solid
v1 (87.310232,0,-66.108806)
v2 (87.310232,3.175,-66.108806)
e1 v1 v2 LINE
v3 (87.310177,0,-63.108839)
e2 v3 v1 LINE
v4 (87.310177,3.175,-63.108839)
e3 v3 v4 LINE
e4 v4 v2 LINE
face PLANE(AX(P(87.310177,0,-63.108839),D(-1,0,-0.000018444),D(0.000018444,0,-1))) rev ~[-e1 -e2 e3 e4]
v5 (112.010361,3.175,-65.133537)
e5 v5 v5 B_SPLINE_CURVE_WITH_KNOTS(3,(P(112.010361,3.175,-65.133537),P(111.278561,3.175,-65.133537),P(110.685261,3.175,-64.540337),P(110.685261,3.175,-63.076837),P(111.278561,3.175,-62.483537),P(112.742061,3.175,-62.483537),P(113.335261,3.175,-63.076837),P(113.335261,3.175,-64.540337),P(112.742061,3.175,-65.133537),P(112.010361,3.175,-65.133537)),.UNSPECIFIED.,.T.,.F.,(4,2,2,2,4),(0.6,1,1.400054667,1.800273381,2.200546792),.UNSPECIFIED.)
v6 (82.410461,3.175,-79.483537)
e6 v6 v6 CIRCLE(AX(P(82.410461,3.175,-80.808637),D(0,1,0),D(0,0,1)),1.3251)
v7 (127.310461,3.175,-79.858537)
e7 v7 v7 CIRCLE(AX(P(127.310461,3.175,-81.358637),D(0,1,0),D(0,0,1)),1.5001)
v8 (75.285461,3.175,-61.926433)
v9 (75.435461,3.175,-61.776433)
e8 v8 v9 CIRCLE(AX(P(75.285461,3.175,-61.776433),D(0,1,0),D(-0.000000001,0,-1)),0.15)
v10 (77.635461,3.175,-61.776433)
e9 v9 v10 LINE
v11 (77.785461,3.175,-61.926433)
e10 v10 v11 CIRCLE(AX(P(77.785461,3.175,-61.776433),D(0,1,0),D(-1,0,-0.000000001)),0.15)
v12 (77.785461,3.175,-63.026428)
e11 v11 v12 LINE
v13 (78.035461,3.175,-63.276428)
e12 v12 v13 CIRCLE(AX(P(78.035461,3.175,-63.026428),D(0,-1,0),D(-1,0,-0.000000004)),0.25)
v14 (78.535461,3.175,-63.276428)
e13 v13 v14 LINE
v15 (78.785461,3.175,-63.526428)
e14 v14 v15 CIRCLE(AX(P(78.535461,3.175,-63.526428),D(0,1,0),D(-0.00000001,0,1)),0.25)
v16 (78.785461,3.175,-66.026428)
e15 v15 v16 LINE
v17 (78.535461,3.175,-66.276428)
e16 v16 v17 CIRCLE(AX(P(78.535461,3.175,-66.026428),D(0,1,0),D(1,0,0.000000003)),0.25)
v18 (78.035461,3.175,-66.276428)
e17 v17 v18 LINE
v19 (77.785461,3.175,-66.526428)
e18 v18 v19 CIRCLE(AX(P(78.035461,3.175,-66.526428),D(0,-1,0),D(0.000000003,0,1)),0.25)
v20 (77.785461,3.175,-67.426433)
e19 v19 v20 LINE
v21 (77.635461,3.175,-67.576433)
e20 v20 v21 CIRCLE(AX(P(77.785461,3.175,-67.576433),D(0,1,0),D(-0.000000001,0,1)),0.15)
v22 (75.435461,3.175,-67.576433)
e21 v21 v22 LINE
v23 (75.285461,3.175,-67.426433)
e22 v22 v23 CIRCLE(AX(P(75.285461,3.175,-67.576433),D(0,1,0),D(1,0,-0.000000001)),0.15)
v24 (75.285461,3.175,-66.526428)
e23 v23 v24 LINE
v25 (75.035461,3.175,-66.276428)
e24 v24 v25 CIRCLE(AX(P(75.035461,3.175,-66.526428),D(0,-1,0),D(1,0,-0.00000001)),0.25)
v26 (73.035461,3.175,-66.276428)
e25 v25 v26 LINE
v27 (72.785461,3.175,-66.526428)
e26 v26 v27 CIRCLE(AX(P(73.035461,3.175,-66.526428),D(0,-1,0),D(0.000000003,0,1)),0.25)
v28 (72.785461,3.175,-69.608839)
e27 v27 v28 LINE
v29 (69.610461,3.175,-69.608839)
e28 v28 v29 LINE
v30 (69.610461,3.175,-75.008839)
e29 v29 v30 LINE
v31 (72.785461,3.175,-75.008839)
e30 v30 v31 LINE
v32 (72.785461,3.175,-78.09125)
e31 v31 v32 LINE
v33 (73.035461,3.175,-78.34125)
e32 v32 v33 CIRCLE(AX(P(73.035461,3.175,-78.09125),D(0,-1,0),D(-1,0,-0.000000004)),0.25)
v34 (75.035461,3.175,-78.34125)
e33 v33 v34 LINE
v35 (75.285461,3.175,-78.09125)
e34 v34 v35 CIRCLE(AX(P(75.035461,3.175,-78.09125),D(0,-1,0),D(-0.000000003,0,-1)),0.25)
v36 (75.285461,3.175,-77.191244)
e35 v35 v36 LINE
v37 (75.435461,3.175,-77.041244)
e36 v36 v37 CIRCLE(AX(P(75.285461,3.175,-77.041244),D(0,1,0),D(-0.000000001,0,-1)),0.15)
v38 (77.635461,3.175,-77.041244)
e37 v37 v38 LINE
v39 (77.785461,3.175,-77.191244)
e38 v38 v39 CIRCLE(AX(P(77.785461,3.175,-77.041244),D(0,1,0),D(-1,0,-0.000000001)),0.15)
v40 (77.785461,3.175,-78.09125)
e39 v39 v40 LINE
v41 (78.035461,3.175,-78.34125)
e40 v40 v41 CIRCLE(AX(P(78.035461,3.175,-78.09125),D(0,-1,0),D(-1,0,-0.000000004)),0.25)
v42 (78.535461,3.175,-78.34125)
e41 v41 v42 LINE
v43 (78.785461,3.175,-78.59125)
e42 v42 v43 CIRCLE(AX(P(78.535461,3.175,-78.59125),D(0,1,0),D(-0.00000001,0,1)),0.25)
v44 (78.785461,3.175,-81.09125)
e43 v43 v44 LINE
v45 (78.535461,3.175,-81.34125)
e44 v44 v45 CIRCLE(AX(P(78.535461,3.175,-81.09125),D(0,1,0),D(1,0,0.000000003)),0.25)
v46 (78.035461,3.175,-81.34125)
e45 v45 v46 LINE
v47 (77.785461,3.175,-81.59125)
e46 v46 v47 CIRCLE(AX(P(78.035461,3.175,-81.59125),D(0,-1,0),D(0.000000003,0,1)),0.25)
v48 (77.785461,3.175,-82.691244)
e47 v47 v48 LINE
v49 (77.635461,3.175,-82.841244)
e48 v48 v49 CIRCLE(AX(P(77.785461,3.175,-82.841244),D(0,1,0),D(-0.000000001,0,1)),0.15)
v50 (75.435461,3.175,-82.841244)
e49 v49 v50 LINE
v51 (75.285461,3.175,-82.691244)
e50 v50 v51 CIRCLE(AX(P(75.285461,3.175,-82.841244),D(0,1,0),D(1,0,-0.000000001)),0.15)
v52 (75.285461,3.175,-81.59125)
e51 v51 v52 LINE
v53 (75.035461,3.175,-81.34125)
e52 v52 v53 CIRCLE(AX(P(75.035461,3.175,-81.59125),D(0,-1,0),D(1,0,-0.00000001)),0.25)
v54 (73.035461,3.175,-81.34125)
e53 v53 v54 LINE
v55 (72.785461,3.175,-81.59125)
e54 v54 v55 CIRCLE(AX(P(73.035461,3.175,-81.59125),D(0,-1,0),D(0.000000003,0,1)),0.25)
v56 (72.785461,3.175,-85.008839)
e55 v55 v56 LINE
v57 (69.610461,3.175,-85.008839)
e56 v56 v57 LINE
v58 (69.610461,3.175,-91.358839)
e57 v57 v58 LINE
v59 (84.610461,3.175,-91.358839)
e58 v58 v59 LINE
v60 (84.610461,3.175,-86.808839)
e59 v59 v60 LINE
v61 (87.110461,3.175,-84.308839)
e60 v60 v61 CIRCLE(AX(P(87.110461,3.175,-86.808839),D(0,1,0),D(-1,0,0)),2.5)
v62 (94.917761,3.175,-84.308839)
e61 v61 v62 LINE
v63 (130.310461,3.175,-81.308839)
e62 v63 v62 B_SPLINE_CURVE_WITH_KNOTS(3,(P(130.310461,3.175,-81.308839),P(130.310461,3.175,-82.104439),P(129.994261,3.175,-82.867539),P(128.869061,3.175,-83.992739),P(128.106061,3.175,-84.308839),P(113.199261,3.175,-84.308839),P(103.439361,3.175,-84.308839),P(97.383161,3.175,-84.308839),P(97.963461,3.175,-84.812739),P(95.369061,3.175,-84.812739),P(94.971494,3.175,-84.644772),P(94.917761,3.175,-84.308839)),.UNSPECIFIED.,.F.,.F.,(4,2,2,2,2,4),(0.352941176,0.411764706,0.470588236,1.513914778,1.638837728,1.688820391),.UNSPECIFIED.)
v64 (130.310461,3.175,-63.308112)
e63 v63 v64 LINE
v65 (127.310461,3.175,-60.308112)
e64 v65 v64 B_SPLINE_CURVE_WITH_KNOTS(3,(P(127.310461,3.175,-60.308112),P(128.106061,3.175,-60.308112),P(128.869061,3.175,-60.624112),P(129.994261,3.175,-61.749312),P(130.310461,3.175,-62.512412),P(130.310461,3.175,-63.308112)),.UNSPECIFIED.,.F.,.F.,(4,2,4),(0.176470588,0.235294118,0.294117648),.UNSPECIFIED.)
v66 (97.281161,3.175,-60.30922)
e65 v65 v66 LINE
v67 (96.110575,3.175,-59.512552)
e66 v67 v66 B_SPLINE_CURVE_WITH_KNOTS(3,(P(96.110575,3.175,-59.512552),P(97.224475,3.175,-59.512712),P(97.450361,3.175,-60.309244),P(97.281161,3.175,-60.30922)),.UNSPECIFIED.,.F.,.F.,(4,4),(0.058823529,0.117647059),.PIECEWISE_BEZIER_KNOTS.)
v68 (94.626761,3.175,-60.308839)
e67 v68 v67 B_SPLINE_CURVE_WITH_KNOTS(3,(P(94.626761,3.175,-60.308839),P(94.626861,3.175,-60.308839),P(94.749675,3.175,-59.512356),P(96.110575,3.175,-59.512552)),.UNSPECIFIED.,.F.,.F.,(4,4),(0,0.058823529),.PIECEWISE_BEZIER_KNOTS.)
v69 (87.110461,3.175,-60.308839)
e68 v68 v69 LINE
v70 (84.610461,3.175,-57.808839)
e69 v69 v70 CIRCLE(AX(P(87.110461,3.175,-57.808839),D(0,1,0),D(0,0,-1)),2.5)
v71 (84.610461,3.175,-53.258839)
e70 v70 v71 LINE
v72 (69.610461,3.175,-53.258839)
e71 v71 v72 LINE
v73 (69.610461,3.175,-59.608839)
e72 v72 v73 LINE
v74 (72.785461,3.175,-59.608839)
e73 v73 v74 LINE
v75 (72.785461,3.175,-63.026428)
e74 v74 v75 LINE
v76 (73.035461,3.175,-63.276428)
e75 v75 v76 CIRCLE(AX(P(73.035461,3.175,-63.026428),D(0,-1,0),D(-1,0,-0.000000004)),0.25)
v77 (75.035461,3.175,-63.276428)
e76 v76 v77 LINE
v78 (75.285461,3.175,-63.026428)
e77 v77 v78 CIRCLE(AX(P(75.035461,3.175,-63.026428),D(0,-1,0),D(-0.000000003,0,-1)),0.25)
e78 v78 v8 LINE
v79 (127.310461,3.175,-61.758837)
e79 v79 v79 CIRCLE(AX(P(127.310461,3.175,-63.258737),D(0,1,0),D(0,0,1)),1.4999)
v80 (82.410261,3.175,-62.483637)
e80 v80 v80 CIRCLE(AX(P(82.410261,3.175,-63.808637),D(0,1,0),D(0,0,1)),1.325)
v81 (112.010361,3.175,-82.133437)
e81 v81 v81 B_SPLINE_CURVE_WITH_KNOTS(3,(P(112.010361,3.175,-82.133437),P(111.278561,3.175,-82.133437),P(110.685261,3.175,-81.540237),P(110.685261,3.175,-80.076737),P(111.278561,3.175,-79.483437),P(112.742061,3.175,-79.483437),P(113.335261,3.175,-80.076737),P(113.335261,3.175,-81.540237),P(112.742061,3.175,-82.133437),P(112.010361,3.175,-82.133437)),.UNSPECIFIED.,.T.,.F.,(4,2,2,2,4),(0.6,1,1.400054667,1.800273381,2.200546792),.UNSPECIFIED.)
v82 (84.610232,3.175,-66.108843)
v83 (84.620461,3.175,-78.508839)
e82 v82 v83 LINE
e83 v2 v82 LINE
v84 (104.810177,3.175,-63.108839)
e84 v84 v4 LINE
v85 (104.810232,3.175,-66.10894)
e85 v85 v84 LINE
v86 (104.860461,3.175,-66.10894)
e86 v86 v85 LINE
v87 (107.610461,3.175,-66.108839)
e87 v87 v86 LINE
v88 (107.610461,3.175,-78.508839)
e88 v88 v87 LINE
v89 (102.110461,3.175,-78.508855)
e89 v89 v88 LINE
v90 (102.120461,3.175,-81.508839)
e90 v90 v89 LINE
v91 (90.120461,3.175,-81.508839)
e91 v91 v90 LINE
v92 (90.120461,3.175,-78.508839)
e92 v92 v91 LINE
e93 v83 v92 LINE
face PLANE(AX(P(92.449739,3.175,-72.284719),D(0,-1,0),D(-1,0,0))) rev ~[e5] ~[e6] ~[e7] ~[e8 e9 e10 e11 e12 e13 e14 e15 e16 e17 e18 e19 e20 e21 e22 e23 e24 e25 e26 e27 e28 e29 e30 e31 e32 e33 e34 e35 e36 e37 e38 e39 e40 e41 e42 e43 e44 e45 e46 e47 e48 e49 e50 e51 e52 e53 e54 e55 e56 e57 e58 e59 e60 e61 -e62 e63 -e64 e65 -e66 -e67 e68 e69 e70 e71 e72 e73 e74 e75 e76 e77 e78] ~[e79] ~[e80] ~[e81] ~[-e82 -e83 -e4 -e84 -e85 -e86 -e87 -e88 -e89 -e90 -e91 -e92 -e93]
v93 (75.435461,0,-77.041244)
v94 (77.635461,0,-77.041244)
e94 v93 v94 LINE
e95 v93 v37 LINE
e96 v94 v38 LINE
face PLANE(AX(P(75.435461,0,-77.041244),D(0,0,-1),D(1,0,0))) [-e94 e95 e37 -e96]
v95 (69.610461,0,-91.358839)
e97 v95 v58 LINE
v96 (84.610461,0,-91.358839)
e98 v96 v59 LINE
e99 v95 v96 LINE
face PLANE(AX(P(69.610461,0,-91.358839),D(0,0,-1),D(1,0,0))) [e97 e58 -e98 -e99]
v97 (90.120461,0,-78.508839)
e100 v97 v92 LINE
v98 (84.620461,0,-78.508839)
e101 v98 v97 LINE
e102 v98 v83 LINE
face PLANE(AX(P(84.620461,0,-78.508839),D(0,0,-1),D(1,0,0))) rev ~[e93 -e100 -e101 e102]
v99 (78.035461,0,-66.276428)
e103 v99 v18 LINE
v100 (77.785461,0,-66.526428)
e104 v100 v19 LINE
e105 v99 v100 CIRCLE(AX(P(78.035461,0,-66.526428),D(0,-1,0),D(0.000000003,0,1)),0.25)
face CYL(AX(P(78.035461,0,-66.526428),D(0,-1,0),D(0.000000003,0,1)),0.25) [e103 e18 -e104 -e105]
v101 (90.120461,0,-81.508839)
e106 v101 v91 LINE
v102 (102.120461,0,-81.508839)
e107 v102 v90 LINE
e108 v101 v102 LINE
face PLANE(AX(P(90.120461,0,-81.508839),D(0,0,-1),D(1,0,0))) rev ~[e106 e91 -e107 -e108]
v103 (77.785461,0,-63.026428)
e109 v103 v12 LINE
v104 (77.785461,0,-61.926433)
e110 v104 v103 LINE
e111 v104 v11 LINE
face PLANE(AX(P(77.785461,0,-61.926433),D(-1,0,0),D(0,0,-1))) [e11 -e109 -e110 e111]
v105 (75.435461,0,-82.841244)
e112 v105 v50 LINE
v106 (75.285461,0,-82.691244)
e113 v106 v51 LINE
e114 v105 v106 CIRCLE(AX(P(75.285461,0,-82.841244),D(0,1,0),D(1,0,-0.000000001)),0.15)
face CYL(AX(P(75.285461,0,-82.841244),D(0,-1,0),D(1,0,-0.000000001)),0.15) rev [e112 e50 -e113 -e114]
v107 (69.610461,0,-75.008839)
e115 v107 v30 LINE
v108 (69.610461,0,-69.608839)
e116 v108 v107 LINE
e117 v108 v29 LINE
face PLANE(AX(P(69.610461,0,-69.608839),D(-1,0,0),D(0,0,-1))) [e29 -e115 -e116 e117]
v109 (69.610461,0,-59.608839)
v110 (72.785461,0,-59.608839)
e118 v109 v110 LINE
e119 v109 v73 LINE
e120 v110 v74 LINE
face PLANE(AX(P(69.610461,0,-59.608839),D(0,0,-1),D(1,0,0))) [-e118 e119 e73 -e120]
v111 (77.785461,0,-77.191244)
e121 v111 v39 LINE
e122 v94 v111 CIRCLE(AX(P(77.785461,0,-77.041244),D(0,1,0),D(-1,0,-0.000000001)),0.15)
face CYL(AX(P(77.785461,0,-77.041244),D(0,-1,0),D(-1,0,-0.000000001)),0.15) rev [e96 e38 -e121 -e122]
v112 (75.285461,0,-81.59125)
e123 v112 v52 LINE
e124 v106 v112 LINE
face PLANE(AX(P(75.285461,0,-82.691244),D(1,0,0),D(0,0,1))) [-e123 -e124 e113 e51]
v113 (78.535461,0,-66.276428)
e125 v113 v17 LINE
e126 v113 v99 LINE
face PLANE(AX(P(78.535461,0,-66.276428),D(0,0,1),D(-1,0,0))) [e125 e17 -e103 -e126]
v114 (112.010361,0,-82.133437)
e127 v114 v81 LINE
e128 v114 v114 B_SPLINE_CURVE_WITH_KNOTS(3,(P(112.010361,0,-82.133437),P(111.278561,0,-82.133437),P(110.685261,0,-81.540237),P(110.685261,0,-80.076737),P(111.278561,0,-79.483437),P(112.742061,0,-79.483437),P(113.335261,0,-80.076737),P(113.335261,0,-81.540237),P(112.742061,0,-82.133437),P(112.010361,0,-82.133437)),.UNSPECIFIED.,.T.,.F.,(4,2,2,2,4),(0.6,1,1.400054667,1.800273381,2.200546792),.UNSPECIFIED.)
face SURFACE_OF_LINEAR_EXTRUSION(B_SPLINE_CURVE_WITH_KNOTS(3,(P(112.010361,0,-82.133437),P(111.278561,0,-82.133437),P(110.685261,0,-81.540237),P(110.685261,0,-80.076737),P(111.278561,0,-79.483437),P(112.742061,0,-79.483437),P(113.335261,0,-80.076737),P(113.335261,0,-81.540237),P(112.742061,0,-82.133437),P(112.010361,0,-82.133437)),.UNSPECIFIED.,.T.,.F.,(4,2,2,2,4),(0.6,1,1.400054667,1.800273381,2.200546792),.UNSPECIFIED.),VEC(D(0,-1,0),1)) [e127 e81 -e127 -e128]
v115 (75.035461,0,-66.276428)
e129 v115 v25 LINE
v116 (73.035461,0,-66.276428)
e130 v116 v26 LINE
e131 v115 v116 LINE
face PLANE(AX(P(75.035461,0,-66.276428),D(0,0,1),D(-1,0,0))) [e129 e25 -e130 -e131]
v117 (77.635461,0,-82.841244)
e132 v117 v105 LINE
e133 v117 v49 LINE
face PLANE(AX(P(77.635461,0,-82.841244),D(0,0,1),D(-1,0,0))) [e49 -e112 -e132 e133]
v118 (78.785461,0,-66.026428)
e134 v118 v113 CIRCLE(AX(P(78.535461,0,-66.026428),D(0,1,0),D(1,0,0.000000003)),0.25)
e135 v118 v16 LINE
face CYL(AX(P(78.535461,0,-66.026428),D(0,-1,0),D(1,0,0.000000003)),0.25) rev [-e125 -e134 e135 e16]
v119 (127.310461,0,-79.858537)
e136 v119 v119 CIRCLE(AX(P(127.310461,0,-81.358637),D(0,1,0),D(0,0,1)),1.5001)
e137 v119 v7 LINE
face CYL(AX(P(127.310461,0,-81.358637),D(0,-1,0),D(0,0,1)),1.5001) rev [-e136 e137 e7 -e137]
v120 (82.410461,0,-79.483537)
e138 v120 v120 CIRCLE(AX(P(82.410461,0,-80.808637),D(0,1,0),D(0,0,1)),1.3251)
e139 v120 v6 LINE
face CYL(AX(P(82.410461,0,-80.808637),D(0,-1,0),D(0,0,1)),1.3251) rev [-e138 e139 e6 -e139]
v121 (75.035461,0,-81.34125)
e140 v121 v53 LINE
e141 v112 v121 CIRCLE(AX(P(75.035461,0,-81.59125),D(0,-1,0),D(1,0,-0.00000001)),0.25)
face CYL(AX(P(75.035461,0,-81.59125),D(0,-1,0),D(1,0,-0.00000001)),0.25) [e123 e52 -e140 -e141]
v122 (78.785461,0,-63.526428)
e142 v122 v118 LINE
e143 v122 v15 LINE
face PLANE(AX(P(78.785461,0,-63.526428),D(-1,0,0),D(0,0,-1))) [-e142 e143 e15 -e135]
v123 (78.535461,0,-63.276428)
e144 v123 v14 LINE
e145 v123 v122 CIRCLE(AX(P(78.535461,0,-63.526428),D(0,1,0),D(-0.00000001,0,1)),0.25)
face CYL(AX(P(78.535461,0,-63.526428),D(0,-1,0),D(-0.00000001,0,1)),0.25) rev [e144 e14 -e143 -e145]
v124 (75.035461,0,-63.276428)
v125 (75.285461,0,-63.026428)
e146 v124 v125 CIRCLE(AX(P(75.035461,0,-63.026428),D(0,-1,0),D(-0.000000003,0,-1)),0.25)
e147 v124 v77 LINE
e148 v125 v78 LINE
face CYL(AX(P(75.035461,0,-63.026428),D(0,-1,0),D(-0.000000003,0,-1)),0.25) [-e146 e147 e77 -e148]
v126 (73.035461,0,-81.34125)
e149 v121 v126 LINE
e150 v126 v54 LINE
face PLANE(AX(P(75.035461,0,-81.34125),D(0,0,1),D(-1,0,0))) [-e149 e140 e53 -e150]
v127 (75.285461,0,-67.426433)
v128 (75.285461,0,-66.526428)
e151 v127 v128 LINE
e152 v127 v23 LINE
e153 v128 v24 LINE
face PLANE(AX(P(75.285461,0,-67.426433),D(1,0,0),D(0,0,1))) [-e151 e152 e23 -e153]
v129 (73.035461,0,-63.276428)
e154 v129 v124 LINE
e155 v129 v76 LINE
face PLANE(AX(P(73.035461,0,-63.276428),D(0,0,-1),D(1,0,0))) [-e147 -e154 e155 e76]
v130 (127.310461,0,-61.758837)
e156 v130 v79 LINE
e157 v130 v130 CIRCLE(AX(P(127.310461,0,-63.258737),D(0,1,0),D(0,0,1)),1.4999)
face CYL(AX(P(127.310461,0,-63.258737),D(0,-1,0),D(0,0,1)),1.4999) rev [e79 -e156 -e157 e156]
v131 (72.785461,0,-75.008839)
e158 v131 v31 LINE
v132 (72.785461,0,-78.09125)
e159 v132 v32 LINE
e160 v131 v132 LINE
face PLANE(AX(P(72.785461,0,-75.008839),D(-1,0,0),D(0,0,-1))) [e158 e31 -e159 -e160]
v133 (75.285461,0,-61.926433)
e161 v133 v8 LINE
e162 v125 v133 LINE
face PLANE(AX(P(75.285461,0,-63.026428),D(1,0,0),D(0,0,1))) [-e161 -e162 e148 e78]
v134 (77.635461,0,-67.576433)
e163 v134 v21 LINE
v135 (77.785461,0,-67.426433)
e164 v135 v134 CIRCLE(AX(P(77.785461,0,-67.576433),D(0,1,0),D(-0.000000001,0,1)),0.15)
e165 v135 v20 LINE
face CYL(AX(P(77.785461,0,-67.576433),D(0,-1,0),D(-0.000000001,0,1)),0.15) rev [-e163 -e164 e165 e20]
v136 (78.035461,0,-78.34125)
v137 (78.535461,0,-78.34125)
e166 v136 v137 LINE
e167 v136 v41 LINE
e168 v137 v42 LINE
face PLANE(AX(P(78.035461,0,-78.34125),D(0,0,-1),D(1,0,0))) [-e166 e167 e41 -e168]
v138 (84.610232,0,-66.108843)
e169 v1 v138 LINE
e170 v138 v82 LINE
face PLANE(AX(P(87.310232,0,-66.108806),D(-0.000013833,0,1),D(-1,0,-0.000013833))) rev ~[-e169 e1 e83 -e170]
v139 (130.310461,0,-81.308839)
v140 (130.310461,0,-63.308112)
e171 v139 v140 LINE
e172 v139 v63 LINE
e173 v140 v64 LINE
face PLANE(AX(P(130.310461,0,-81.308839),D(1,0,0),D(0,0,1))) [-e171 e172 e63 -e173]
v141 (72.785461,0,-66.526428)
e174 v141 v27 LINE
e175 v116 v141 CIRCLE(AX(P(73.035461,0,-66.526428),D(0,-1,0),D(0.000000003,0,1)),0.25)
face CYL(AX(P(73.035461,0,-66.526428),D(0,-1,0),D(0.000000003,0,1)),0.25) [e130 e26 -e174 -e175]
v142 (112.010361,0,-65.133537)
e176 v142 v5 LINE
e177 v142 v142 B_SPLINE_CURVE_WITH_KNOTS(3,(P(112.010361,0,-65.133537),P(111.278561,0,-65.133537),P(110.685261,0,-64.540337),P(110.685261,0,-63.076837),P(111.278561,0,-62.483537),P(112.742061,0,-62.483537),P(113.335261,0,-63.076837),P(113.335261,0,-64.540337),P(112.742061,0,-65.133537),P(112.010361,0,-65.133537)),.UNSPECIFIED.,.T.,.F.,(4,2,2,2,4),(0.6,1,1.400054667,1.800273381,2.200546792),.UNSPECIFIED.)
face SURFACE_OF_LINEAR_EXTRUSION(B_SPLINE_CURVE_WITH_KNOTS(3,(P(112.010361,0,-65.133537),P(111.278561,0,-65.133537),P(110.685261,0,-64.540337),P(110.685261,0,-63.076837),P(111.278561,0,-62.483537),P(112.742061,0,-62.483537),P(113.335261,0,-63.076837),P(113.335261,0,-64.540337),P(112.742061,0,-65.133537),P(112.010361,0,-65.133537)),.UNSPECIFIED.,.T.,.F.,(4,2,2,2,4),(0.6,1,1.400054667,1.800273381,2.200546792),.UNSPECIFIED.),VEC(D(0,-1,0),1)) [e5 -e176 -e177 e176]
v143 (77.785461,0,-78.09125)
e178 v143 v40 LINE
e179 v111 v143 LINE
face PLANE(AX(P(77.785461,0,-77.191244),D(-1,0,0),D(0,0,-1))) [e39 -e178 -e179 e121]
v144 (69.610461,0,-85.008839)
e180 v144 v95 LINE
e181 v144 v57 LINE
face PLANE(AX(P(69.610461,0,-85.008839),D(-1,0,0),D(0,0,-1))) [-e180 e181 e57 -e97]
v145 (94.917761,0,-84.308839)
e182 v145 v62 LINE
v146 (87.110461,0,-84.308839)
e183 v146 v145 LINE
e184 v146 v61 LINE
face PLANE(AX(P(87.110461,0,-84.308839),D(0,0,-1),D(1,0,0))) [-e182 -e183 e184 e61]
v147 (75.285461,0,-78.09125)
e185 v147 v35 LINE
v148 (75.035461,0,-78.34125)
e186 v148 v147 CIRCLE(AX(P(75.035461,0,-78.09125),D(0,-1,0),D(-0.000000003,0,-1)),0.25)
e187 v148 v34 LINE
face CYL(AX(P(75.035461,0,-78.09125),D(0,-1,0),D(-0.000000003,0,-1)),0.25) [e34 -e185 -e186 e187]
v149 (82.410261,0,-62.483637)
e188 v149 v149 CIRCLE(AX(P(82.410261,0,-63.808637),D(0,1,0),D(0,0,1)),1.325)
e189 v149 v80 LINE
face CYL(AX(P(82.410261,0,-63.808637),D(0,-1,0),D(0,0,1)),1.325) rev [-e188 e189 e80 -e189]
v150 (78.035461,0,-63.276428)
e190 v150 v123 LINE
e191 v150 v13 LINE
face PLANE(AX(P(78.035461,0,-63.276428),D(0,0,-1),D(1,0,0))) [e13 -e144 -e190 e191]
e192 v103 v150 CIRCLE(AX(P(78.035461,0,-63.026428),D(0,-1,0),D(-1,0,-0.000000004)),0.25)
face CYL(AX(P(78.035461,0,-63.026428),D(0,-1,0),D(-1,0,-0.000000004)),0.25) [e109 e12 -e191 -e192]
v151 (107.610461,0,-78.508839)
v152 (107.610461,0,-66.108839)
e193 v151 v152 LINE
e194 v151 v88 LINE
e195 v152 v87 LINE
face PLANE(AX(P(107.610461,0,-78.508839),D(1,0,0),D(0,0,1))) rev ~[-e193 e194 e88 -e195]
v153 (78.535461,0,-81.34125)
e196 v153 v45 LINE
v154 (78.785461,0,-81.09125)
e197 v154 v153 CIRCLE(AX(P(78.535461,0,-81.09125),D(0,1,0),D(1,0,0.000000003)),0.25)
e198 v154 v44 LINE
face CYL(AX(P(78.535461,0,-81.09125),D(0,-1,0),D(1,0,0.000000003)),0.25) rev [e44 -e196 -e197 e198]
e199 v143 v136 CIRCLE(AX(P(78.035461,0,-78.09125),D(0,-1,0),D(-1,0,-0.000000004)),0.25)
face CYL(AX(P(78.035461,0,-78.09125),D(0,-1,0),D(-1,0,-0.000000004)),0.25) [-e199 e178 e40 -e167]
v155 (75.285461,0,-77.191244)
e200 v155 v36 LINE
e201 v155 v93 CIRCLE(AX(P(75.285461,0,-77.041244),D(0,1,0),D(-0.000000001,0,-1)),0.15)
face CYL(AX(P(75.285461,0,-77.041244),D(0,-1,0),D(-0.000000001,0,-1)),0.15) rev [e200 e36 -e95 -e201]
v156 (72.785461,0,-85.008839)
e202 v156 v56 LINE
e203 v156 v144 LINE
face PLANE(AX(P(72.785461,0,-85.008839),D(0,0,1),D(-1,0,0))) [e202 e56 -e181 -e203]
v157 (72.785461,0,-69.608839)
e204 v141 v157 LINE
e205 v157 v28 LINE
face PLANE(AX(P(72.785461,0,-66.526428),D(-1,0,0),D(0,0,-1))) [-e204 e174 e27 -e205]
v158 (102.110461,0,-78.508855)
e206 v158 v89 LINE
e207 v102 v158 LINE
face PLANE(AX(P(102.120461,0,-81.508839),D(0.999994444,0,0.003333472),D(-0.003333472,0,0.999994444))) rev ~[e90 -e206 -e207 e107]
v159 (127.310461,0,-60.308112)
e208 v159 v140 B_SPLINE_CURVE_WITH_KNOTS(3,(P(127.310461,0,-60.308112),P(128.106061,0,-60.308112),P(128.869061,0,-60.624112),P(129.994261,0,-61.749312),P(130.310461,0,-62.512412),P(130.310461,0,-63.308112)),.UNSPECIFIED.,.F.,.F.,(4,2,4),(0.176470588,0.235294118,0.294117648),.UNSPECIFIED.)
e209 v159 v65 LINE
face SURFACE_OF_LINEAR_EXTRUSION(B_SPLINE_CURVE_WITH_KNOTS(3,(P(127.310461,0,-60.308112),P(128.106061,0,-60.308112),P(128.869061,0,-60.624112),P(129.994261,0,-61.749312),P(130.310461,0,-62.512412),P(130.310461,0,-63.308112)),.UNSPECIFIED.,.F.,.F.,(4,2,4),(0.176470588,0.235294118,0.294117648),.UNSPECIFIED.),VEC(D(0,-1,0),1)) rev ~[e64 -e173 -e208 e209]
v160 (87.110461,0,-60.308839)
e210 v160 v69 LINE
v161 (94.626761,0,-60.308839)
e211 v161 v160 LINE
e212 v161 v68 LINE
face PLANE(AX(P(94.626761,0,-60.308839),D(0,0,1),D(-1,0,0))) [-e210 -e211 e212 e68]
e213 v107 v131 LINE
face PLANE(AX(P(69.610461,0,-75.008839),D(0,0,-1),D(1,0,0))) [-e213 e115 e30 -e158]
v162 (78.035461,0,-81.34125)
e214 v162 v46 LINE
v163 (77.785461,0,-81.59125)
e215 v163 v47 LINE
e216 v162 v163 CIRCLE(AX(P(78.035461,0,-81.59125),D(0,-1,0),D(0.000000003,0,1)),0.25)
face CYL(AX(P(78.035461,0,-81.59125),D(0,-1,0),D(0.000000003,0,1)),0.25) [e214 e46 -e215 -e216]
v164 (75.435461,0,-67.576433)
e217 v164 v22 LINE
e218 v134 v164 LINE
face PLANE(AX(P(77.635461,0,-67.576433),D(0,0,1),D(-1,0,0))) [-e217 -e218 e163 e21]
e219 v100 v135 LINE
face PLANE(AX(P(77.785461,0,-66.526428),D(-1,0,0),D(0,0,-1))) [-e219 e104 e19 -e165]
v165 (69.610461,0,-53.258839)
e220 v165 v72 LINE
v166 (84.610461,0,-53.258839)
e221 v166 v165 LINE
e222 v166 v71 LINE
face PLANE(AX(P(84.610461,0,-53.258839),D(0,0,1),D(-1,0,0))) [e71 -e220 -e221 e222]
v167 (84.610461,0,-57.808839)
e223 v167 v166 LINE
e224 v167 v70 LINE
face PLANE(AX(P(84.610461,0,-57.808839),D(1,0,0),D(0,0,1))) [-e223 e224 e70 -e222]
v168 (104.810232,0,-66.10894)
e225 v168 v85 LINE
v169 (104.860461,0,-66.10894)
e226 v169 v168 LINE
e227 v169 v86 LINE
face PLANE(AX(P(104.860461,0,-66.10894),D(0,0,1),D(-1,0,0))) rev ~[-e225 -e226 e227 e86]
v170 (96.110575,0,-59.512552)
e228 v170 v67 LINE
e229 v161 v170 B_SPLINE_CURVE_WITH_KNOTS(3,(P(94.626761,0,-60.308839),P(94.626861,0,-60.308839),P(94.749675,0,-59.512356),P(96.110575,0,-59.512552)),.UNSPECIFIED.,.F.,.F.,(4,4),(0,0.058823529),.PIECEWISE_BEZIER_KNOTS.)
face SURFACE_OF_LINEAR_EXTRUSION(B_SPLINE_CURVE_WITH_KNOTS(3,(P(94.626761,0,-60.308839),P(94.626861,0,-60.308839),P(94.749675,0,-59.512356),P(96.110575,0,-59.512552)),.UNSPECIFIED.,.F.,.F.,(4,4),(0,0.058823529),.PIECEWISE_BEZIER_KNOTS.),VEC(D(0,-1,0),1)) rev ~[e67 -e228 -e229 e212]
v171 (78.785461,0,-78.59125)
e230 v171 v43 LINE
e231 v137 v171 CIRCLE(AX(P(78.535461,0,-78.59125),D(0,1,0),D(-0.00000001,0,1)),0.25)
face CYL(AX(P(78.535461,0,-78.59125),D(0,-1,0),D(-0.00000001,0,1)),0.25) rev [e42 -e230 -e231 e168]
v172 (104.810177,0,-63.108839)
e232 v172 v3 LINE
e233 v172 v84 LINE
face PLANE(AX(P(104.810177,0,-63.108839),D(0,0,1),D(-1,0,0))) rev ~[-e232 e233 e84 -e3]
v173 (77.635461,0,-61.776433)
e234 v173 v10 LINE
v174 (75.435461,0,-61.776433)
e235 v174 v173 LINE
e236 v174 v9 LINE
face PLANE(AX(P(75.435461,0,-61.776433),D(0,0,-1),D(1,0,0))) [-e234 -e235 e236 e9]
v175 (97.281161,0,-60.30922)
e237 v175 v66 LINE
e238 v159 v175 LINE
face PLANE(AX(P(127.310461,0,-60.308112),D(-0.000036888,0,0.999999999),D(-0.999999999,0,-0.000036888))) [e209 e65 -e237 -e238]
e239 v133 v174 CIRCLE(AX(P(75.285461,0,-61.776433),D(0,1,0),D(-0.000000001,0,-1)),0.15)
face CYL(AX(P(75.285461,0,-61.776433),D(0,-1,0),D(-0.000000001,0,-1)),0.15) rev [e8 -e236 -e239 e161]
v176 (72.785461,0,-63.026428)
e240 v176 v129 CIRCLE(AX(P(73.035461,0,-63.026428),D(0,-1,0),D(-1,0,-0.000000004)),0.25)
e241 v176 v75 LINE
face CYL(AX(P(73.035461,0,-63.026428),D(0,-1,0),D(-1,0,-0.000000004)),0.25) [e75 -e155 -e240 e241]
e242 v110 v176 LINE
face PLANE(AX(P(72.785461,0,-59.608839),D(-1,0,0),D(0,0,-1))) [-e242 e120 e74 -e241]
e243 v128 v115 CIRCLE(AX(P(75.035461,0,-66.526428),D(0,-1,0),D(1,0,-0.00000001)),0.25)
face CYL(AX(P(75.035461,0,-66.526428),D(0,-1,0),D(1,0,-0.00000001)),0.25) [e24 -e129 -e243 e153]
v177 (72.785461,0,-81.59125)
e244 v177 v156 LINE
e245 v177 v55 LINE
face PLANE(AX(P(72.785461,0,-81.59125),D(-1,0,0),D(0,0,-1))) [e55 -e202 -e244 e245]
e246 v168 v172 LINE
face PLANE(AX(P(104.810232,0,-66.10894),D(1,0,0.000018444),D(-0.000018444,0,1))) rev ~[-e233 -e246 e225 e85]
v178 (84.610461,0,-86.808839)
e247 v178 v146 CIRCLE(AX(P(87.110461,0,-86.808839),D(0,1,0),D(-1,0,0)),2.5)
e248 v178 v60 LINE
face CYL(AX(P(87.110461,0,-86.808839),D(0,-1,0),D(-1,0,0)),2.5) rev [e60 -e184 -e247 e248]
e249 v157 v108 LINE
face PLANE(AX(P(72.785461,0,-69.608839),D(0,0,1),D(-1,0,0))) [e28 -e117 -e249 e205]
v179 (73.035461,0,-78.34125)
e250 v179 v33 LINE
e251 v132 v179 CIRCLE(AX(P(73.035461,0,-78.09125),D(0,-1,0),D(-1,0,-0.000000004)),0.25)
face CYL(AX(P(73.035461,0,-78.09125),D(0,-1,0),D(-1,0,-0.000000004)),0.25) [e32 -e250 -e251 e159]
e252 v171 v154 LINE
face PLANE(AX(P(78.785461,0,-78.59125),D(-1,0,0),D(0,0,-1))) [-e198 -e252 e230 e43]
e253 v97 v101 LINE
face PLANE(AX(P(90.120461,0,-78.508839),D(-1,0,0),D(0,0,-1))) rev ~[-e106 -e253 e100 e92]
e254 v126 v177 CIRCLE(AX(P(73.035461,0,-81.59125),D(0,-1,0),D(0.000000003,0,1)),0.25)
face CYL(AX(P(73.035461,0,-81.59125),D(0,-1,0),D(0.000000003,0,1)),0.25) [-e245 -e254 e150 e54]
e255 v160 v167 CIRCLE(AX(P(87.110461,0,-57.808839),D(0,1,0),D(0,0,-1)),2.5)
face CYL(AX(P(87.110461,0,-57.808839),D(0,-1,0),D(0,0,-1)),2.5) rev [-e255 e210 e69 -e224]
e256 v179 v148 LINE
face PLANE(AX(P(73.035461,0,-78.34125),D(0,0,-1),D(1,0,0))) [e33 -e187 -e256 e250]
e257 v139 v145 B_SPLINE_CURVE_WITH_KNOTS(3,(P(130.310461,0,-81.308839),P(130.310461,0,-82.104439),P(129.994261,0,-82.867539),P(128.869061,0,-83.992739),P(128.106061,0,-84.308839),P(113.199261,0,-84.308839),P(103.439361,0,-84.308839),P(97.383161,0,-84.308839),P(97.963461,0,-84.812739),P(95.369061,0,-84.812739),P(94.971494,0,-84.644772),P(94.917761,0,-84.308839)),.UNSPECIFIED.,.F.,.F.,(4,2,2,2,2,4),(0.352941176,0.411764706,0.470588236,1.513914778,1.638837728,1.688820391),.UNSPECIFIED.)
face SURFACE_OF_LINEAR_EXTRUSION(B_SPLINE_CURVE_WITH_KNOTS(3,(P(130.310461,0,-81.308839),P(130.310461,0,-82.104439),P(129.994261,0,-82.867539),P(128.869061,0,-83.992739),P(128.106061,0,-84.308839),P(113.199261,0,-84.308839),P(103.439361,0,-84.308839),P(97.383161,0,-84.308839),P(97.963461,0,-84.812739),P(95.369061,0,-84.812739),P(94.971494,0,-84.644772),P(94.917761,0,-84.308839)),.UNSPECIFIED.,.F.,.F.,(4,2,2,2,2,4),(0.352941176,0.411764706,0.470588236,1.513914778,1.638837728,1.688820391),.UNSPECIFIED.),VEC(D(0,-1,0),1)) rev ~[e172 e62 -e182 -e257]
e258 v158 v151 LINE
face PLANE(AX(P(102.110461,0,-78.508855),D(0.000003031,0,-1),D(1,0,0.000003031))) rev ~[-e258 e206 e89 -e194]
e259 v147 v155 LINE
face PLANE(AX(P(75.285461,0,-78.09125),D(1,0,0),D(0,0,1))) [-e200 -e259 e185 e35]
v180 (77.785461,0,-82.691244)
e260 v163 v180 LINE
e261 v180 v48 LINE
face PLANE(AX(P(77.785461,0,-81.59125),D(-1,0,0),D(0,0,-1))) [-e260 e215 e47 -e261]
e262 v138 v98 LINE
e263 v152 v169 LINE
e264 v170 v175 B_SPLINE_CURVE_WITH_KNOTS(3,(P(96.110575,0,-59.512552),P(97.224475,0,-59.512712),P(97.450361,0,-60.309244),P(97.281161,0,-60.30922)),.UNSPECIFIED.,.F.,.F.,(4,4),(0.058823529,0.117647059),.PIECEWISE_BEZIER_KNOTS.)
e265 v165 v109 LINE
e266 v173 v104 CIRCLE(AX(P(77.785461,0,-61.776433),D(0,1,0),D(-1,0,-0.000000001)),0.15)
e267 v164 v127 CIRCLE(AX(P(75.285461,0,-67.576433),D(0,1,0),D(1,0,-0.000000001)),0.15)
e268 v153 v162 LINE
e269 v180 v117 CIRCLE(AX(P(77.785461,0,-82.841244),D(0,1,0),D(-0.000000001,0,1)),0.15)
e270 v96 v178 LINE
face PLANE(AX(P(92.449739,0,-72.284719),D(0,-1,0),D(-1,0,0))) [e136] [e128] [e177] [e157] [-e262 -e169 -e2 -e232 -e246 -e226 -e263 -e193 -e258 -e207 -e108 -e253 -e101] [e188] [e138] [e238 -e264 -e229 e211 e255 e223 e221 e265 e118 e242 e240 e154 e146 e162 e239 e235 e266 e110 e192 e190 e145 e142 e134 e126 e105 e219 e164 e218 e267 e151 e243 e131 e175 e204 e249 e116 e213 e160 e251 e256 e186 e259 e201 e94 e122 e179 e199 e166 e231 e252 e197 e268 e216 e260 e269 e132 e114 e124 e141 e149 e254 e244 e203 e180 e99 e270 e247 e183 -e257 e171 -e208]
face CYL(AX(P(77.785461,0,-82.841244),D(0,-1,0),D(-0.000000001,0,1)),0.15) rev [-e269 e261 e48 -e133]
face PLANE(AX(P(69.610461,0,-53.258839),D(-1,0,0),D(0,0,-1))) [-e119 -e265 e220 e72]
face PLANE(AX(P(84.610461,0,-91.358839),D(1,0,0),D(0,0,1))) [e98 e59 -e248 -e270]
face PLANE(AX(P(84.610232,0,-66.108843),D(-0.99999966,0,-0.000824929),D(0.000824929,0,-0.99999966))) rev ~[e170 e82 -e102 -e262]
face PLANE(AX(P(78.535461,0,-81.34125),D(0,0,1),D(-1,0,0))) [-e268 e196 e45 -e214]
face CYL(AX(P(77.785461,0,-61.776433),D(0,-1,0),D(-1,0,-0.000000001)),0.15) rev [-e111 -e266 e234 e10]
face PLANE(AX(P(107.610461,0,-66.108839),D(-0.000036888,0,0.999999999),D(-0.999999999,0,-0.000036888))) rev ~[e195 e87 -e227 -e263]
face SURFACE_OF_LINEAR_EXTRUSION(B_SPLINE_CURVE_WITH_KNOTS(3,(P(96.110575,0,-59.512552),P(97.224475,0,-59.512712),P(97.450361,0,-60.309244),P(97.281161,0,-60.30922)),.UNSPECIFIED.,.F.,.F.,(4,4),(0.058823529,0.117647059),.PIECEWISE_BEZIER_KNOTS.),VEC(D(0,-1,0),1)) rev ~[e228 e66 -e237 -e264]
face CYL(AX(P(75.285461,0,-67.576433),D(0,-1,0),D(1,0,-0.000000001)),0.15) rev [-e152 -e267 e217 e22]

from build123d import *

# Parameters (mm, degrees)
SKETCH2_R           = 1.5001
SKETCH2_R_2         = 1.4999
SKETCH2_R_3         = 1.325
SKETCH2_R_4         = 1.325100015
BOSS_EXTRUDE1_DEPTH = 3.175


with BuildPart() as part:
    # Sketch2 → Boss-Extrude1 (new body)
    with BuildSketch(Plane(origin=(0, 0, 0), x_dir=(1, 0, 0), z_dir=(0, 1, 0))):
        with BuildLine():
            Line((94.626760584, 60.308838669), (87.110460584, 60.308838669))
            ThreePointArc((87.110460584, 60.308838669), (85.342693631, 59.576605622), (84.610460584, 57.808838669))
            Line((84.610460584, 57.808838669), (84.610460584, 53.258838669))
            Line((84.610460584, 53.258838669), (69.610460584, 53.258838669))
            Line((69.610460584, 53.258838669), (69.610460584, 59.608838669))
            Line((69.610460584, 59.608838669), (72.785460584, 59.608838669))
            Line((72.785460584, 59.608838669), (72.785460584, 63.026427795))
            ThreePointArc((72.785460584, 63.026427795), (72.858683889, 63.20320449), (73.035460584, 63.276427795))
            Line((73.035460584, 63.276427795), (75.035460584, 63.276427795))
            ThreePointArc((75.035460584, 63.276427795), (75.21223728, 63.20320449), (75.285460584, 63.026427795))
            Line((75.285460584, 63.026427795), (75.285460584, 61.980589301))
            Line((75.285460584, 61.980589301), (75.285460584, 61.92643317))
            ThreePointArc((75.285460584, 61.92643317), (75.179394567, 61.670367153), (75.435460584, 61.77643317))
            Line((75.435460584, 61.77643317), (75.545268206, 61.77643317))
            Line((75.545268206, 61.77643317), (77.635460584, 61.77643317))
            ThreePointArc((77.635460584, 61.77643317), (77.891526602, 61.670367153), (77.785460584, 61.92643317))
            Line((77.785460584, 61.92643317), (77.785460584, 61.980589301))
            Line((77.785460584, 61.980589301), (77.785460584, 63.026427795))
            ThreePointArc((77.785460584, 63.026427795), (77.858683889, 63.20320449), (78.035460584, 63.276427795))
            Line((78.035460584, 63.276427795), (78.535460584, 63.276427795))
            ThreePointArc((78.535460584, 63.276427795), (78.71223728, 63.349651099), (78.785460584, 63.526427795))
            Line((78.785460584, 63.526427795), (78.785460584, 66.026427795))
            ThreePointArc((78.785460584, 66.026427795), (78.71223728, 66.20320449), (78.535460584, 66.276427795))
            Line((78.535460584, 66.276427795), (78.035460584, 66.276427795))
            ThreePointArc((78.035460584, 66.276427795), (77.858683889, 66.349651099), (77.785460584, 66.526427795))
            Line((77.785460584, 66.526427795), (77.785460584, 67.35143317))
            Line((77.785460584, 67.35143317), (77.785460584, 67.42643317))
            ThreePointArc((77.785460584, 67.42643317), (77.891526602, 67.682499187), (77.635460584, 67.57643317))
            Line((77.635460584, 67.57643317), (75.545268206, 67.57643317))
            Line((75.545268206, 67.57643317), (75.435460584, 67.57643317))
            ThreePointArc((75.435460584, 67.57643317), (75.179394567, 67.682499187), (75.285460584, 67.42643317))
            Line((75.285460584, 67.42643317), (75.285460584, 67.35143317))
            Line((75.285460584, 67.35143317), (75.285460584, 66.526427795))
            ThreePointArc((75.285460584, 66.526427795), (75.21223728, 66.349651099), (75.035460584, 66.276427795))
            Line((75.035460584, 66.276427795), (73.035460584, 66.276427795))
            ThreePointArc((73.035460584, 66.276427795), (72.858683889, 66.349651099), (72.785460584, 66.526427795))
            Line((72.785460584, 66.526427795), (72.785460584, 69.608838669))
            Line((72.785460584, 69.608838669), (69.610460584, 69.608838669))
            Line((69.610460584, 69.608838669), (69.610460584, 75.008838669))
            Line((69.610460584, 75.008838669), (72.785460584, 75.008838669))
            Line((72.785460584, 75.008838669), (72.785460584, 78.091249543))
            ThreePointArc((72.785460584, 78.091249543), (72.858683889, 78.268026238), (73.035460584, 78.341249543))
            Line((73.035460584, 78.341249543), (75.035460584, 78.341249543))
            ThreePointArc((75.035460584, 78.341249543), (75.21223728, 78.268026238), (75.285460584, 78.091249543))
            Line((75.285460584, 78.091249543), (75.285460584, 77.266244167))
            Line((75.285460584, 77.266244167), (75.285460584, 77.191244167))
            ThreePointArc((75.285460584, 77.191244167), (75.179394567, 76.93517815), (75.435460584, 77.041244167))
            Line((75.435460584, 77.041244167), (75.545268206, 77.041244167))
            Line((75.545268206, 77.041244167), (77.635460584, 77.041244167))
            ThreePointArc((77.635460584, 77.041244167), (77.891526602, 76.93517815), (77.785460584, 77.191244167))
            Line((77.785460584, 77.191244167), (77.785460584, 77.266244167))
            Line((77.785460584, 77.266244167), (77.785460584, 78.091249543))
            ThreePointArc((77.785460584, 78.091249543), (77.858683889, 78.268026238), (78.035460584, 78.341249543))
            Line((78.035460584, 78.341249543), (78.535460584, 78.341249543))
            ThreePointArc((78.535460584, 78.341249543), (78.71223728, 78.414472847), (78.785460584, 78.591249543))
            Line((78.785460584, 78.591249543), (78.785460584, 81.091249543))
            ThreePointArc((78.785460584, 81.091249543), (78.71223728, 81.268026238), (78.535460584, 81.341249543))
            Line((78.535460584, 81.341249543), (78.035460584, 81.341249543))
            ThreePointArc((78.035460584, 81.341249543), (77.858683889, 81.414472847), (77.785460584, 81.591249543))
            Line((77.785460584, 81.591249543), (77.785460584, 82.637088037))
            Line((77.785460584, 82.637088037), (77.785460584, 82.691244167))
            ThreePointArc((77.785460584, 82.691244167), (77.891526602, 82.947310184), (77.635460584, 82.841244167))
            Line((77.635460584, 82.841244167), (75.545268206, 82.841244167))
            Line((75.545268206, 82.841244167), (75.435460584, 82.841244167))
            ThreePointArc((75.435460584, 82.841244167), (75.179394567, 82.947310184), (75.285460584, 82.691244167))
            Line((75.285460584, 82.691244167), (75.285460584, 82.637088037))
            Line((75.285460584, 82.637088037), (75.285460584, 81.591249543))
            ThreePointArc((75.285460584, 81.591249543), (75.21223728, 81.414472847), (75.035460584, 81.341249543))
            Line((75.035460584, 81.341249543), (73.035460584, 81.341249543))
            ThreePointArc((73.035460584, 81.341249543), (72.858683889, 81.414472847), (72.785460584, 81.591249543))
            Line((72.785460584, 81.591249543), (72.785460584, 85.008838669))
            Line((72.785460584, 85.008838669), (69.610460584, 85.008838669))
            Line((69.610460584, 85.008838669), (69.610460584, 91.358838669))
            Line((69.610460584, 91.358838669), (84.610460584, 91.358838669))
            Line((84.610460584, 91.358838669), (84.610460584, 86.808838669))
            ThreePointArc((84.610460584, 86.808838669), (85.342693631, 85.041071716), (87.110460584, 84.308838669))
            Line((87.110460584, 84.308838669), (94.917760584, 84.308838669))
            add(Edge.make_bspline(
                [(96.110460584, 84.812738669), (94.998360584, 84.812738669), (94.917760584, 84.308838669)],
                knots=[0.588235294, 0.588235294, 0.588235294, 0.647058824, 0.647058824, 0.647058824], degree=2))
            add(Edge.make_bspline(
                [(98.030760584, 84.308838669), (97.383160584, 84.308838669), (97.963460584, 84.812738669), (96.110460584, 84.812738669)],
                knots=[0.529411765, 0.529411765, 0.529411765, 0.529411765, 0.588235294, 0.588235294, 0.588235294, 0.588235294], degree=3))
            add(Edge.make_bspline(
                [(127.310460584, 84.308838669), (106.143660584, 84.308838669), (98.030760584, 84.308838669)],
                knots=[0.470588235, 0.470588235, 0.470588235, 0.529411765, 0.529411765, 0.529411765], degree=2))
            add(Edge.make_bspline(
                [(129.431660584, 83.430138669), (128.869060584, 83.992738669), (128.106060584, 84.308838669), (127.310460584, 84.308838669)],
                knots=[0.411764706, 0.411764706, 0.411764706, 0.411764706, 0.470588235, 0.470588235, 0.470588235, 0.470588235], degree=3))
            add(Edge.make_bspline(
                [(130.310460584, 81.308838669), (130.310460584, 82.104438669), (129.994260584, 82.867538669), (129.431660584, 83.430138669)],
                knots=[0.352941176, 0.352941176, 0.352941176, 0.352941176, 0.411764706, 0.411764706, 0.411764706, 0.411764706], degree=3))
            Line((130.310460584, 81.308838669), (130.310460578, 63.308111963))
            add(Edge.make_bspline(
                [(129.431660578, 61.186711963), (129.994260578, 61.749311963), (130.310460578, 62.512411963), (130.310460578, 63.308111963)],
                knots=[0.235294118, 0.235294118, 0.235294118, 0.235294118, 0.294117647, 0.294117647, 0.294117647, 0.294117647], degree=3))
            add(Edge.make_bspline(
                [(127.310460578, 60.308111963), (128.106060578, 60.308111963), (128.869060578, 60.624111963), (129.431660578, 61.186711963)],
                knots=[0.176470588, 0.176470588, 0.176470588, 0.176470588, 0.235294118, 0.235294118, 0.235294118, 0.235294118], degree=3))
            Line((127.310460578, 60.308111963), (97.281160599, 60.309219696))
            add(Edge.make_bspline(
                [(96.110574922, 59.51255169), (97.22447491, 59.512711553), (97.450360597, 60.309243979), (97.281160599, 60.309219696)],
                knots=[0.058823529, 0.058823529, 0.058823529, 0.058823529, 0.117647059, 0.117647059, 0.117647059, 0.117647059], degree=3))
            add(Edge.make_bspline(
                [(94.626760584, 60.308838669), (94.626860584, 60.308838683), (94.749674936, 59.512356307), (96.110574922, 59.51255169)],
                knots=[0, 0, 0, 0, 0.058823529, 0.058823529, 0.058823529, 0.058823529], degree=3))
        make_face()
        with Locations(Location((127.310460584, 81.358637226, 0), (0, 0, 270))):
            Circle(SKETCH2_R, mode=Mode.SUBTRACT)
        with Locations(Location((127.310460584, 63.258737226, 0), (0, 0, 270))):
            Circle(SKETCH2_R_2, mode=Mode.SUBTRACT)
        with Locations(Location((82.410260584, 63.808637226, 0), (0, 0, 270))):
            Circle(SKETCH2_R_3, mode=Mode.SUBTRACT)
        with Locations(Location((82.410460584, 80.808637226, 0), (0, 0, 270))):
            Circle(SKETCH2_R_4, mode=Mode.SUBTRACT)
        Polygon((104.860460586, 66.108940112), (104.810231878, 66.108940112), (104.810176544, 63.108838669), (87.310176544, 63.108838669), (87.310231876, 66.10880554), (84.610231876, 66.108842888), (84.620460999, 78.508838669), (90.120460999, 78.508838669), (90.120460999, 81.508838669), (102.120460999, 81.508838669), (102.110460584, 78.508855337), (107.610460584, 78.508838669), (107.610460584, 66.108838669), align=None, mode=Mode.SUBTRACT)
        with BuildLine():
            add(Edge.make_bspline(
                [(110.685260584, 63.808637226), (110.685260584, 63.076837226), (111.278560584, 62.483537226), (112.010160584, 62.483537226)],
                knots=[0, 0, 0, 0, 0.2, 0.2, 0.2, 0.2], degree=3))
            add(Edge.make_bspline(
                [(112.010160584, 62.483537226), (112.742060584, 62.483537226), (113.335260584, 63.076837226), (113.335260584, 63.808537226)],
                knots=[0.2, 0.2, 0.2, 0.2, 0.4, 0.4, 0.4, 0.4], degree=3))
            add(Edge.make_bspline(
                [(113.335260584, 63.808537226), (113.335260584, 64.540337226), (112.742060584, 65.133537226), (112.010360584, 65.133537226)],
                knots=[0.4, 0.4, 0.4, 0.4, 0.6, 0.6, 0.6, 0.6], degree=3))
            add(Edge.make_bspline(
                [(112.010360584, 65.133537226), (111.278560584, 65.133537226), (110.685260584, 64.540337226), (110.685260584, 63.808637226)],
                knots=[0.6, 0.6, 0.6, 0.6, 1, 1, 1, 1], degree=3))
        make_face(mode=Mode.SUBTRACT)
        with BuildLine():
            add(Edge.make_bspline(
                [(110.685260584, 80.808537226), (110.685260584, 80.076737226), (111.278560584, 79.483437226), (112.010160584, 79.483437226)],
                knots=[0, 0, 0, 0, 0.2, 0.2, 0.2, 0.2], degree=3))
            add(Edge.make_bspline(
                [(112.010160584, 79.483437226), (112.742060584, 79.483437226), (113.335260584, 80.076737226), (113.335260584, 80.808437226)],
                knots=[0.2, 0.2, 0.2, 0.2, 0.4, 0.4, 0.4, 0.4], degree=3))
            add(Edge.make_bspline(
                [(113.335260584, 80.808437226), (113.335260584, 81.540237226), (112.742060584, 82.133437226), (112.010360584, 82.133437226)],
                knots=[0.4, 0.4, 0.4, 0.4, 0.6, 0.6, 0.6, 0.6], degree=3))
            add(Edge.make_bspline(
                [(112.010360584, 82.133437226), (111.278560584, 82.133437226), (110.685260584, 81.540237226), (110.685260584, 80.808537226)],
                knots=[0.6, 0.6, 0.6, 0.6, 1, 1, 1, 1], degree=3))
        make_face(mode=Mode.SUBTRACT)
    extrude(amount=BOSS_EXTRUDE1_DEPTH)


solid = part.part
